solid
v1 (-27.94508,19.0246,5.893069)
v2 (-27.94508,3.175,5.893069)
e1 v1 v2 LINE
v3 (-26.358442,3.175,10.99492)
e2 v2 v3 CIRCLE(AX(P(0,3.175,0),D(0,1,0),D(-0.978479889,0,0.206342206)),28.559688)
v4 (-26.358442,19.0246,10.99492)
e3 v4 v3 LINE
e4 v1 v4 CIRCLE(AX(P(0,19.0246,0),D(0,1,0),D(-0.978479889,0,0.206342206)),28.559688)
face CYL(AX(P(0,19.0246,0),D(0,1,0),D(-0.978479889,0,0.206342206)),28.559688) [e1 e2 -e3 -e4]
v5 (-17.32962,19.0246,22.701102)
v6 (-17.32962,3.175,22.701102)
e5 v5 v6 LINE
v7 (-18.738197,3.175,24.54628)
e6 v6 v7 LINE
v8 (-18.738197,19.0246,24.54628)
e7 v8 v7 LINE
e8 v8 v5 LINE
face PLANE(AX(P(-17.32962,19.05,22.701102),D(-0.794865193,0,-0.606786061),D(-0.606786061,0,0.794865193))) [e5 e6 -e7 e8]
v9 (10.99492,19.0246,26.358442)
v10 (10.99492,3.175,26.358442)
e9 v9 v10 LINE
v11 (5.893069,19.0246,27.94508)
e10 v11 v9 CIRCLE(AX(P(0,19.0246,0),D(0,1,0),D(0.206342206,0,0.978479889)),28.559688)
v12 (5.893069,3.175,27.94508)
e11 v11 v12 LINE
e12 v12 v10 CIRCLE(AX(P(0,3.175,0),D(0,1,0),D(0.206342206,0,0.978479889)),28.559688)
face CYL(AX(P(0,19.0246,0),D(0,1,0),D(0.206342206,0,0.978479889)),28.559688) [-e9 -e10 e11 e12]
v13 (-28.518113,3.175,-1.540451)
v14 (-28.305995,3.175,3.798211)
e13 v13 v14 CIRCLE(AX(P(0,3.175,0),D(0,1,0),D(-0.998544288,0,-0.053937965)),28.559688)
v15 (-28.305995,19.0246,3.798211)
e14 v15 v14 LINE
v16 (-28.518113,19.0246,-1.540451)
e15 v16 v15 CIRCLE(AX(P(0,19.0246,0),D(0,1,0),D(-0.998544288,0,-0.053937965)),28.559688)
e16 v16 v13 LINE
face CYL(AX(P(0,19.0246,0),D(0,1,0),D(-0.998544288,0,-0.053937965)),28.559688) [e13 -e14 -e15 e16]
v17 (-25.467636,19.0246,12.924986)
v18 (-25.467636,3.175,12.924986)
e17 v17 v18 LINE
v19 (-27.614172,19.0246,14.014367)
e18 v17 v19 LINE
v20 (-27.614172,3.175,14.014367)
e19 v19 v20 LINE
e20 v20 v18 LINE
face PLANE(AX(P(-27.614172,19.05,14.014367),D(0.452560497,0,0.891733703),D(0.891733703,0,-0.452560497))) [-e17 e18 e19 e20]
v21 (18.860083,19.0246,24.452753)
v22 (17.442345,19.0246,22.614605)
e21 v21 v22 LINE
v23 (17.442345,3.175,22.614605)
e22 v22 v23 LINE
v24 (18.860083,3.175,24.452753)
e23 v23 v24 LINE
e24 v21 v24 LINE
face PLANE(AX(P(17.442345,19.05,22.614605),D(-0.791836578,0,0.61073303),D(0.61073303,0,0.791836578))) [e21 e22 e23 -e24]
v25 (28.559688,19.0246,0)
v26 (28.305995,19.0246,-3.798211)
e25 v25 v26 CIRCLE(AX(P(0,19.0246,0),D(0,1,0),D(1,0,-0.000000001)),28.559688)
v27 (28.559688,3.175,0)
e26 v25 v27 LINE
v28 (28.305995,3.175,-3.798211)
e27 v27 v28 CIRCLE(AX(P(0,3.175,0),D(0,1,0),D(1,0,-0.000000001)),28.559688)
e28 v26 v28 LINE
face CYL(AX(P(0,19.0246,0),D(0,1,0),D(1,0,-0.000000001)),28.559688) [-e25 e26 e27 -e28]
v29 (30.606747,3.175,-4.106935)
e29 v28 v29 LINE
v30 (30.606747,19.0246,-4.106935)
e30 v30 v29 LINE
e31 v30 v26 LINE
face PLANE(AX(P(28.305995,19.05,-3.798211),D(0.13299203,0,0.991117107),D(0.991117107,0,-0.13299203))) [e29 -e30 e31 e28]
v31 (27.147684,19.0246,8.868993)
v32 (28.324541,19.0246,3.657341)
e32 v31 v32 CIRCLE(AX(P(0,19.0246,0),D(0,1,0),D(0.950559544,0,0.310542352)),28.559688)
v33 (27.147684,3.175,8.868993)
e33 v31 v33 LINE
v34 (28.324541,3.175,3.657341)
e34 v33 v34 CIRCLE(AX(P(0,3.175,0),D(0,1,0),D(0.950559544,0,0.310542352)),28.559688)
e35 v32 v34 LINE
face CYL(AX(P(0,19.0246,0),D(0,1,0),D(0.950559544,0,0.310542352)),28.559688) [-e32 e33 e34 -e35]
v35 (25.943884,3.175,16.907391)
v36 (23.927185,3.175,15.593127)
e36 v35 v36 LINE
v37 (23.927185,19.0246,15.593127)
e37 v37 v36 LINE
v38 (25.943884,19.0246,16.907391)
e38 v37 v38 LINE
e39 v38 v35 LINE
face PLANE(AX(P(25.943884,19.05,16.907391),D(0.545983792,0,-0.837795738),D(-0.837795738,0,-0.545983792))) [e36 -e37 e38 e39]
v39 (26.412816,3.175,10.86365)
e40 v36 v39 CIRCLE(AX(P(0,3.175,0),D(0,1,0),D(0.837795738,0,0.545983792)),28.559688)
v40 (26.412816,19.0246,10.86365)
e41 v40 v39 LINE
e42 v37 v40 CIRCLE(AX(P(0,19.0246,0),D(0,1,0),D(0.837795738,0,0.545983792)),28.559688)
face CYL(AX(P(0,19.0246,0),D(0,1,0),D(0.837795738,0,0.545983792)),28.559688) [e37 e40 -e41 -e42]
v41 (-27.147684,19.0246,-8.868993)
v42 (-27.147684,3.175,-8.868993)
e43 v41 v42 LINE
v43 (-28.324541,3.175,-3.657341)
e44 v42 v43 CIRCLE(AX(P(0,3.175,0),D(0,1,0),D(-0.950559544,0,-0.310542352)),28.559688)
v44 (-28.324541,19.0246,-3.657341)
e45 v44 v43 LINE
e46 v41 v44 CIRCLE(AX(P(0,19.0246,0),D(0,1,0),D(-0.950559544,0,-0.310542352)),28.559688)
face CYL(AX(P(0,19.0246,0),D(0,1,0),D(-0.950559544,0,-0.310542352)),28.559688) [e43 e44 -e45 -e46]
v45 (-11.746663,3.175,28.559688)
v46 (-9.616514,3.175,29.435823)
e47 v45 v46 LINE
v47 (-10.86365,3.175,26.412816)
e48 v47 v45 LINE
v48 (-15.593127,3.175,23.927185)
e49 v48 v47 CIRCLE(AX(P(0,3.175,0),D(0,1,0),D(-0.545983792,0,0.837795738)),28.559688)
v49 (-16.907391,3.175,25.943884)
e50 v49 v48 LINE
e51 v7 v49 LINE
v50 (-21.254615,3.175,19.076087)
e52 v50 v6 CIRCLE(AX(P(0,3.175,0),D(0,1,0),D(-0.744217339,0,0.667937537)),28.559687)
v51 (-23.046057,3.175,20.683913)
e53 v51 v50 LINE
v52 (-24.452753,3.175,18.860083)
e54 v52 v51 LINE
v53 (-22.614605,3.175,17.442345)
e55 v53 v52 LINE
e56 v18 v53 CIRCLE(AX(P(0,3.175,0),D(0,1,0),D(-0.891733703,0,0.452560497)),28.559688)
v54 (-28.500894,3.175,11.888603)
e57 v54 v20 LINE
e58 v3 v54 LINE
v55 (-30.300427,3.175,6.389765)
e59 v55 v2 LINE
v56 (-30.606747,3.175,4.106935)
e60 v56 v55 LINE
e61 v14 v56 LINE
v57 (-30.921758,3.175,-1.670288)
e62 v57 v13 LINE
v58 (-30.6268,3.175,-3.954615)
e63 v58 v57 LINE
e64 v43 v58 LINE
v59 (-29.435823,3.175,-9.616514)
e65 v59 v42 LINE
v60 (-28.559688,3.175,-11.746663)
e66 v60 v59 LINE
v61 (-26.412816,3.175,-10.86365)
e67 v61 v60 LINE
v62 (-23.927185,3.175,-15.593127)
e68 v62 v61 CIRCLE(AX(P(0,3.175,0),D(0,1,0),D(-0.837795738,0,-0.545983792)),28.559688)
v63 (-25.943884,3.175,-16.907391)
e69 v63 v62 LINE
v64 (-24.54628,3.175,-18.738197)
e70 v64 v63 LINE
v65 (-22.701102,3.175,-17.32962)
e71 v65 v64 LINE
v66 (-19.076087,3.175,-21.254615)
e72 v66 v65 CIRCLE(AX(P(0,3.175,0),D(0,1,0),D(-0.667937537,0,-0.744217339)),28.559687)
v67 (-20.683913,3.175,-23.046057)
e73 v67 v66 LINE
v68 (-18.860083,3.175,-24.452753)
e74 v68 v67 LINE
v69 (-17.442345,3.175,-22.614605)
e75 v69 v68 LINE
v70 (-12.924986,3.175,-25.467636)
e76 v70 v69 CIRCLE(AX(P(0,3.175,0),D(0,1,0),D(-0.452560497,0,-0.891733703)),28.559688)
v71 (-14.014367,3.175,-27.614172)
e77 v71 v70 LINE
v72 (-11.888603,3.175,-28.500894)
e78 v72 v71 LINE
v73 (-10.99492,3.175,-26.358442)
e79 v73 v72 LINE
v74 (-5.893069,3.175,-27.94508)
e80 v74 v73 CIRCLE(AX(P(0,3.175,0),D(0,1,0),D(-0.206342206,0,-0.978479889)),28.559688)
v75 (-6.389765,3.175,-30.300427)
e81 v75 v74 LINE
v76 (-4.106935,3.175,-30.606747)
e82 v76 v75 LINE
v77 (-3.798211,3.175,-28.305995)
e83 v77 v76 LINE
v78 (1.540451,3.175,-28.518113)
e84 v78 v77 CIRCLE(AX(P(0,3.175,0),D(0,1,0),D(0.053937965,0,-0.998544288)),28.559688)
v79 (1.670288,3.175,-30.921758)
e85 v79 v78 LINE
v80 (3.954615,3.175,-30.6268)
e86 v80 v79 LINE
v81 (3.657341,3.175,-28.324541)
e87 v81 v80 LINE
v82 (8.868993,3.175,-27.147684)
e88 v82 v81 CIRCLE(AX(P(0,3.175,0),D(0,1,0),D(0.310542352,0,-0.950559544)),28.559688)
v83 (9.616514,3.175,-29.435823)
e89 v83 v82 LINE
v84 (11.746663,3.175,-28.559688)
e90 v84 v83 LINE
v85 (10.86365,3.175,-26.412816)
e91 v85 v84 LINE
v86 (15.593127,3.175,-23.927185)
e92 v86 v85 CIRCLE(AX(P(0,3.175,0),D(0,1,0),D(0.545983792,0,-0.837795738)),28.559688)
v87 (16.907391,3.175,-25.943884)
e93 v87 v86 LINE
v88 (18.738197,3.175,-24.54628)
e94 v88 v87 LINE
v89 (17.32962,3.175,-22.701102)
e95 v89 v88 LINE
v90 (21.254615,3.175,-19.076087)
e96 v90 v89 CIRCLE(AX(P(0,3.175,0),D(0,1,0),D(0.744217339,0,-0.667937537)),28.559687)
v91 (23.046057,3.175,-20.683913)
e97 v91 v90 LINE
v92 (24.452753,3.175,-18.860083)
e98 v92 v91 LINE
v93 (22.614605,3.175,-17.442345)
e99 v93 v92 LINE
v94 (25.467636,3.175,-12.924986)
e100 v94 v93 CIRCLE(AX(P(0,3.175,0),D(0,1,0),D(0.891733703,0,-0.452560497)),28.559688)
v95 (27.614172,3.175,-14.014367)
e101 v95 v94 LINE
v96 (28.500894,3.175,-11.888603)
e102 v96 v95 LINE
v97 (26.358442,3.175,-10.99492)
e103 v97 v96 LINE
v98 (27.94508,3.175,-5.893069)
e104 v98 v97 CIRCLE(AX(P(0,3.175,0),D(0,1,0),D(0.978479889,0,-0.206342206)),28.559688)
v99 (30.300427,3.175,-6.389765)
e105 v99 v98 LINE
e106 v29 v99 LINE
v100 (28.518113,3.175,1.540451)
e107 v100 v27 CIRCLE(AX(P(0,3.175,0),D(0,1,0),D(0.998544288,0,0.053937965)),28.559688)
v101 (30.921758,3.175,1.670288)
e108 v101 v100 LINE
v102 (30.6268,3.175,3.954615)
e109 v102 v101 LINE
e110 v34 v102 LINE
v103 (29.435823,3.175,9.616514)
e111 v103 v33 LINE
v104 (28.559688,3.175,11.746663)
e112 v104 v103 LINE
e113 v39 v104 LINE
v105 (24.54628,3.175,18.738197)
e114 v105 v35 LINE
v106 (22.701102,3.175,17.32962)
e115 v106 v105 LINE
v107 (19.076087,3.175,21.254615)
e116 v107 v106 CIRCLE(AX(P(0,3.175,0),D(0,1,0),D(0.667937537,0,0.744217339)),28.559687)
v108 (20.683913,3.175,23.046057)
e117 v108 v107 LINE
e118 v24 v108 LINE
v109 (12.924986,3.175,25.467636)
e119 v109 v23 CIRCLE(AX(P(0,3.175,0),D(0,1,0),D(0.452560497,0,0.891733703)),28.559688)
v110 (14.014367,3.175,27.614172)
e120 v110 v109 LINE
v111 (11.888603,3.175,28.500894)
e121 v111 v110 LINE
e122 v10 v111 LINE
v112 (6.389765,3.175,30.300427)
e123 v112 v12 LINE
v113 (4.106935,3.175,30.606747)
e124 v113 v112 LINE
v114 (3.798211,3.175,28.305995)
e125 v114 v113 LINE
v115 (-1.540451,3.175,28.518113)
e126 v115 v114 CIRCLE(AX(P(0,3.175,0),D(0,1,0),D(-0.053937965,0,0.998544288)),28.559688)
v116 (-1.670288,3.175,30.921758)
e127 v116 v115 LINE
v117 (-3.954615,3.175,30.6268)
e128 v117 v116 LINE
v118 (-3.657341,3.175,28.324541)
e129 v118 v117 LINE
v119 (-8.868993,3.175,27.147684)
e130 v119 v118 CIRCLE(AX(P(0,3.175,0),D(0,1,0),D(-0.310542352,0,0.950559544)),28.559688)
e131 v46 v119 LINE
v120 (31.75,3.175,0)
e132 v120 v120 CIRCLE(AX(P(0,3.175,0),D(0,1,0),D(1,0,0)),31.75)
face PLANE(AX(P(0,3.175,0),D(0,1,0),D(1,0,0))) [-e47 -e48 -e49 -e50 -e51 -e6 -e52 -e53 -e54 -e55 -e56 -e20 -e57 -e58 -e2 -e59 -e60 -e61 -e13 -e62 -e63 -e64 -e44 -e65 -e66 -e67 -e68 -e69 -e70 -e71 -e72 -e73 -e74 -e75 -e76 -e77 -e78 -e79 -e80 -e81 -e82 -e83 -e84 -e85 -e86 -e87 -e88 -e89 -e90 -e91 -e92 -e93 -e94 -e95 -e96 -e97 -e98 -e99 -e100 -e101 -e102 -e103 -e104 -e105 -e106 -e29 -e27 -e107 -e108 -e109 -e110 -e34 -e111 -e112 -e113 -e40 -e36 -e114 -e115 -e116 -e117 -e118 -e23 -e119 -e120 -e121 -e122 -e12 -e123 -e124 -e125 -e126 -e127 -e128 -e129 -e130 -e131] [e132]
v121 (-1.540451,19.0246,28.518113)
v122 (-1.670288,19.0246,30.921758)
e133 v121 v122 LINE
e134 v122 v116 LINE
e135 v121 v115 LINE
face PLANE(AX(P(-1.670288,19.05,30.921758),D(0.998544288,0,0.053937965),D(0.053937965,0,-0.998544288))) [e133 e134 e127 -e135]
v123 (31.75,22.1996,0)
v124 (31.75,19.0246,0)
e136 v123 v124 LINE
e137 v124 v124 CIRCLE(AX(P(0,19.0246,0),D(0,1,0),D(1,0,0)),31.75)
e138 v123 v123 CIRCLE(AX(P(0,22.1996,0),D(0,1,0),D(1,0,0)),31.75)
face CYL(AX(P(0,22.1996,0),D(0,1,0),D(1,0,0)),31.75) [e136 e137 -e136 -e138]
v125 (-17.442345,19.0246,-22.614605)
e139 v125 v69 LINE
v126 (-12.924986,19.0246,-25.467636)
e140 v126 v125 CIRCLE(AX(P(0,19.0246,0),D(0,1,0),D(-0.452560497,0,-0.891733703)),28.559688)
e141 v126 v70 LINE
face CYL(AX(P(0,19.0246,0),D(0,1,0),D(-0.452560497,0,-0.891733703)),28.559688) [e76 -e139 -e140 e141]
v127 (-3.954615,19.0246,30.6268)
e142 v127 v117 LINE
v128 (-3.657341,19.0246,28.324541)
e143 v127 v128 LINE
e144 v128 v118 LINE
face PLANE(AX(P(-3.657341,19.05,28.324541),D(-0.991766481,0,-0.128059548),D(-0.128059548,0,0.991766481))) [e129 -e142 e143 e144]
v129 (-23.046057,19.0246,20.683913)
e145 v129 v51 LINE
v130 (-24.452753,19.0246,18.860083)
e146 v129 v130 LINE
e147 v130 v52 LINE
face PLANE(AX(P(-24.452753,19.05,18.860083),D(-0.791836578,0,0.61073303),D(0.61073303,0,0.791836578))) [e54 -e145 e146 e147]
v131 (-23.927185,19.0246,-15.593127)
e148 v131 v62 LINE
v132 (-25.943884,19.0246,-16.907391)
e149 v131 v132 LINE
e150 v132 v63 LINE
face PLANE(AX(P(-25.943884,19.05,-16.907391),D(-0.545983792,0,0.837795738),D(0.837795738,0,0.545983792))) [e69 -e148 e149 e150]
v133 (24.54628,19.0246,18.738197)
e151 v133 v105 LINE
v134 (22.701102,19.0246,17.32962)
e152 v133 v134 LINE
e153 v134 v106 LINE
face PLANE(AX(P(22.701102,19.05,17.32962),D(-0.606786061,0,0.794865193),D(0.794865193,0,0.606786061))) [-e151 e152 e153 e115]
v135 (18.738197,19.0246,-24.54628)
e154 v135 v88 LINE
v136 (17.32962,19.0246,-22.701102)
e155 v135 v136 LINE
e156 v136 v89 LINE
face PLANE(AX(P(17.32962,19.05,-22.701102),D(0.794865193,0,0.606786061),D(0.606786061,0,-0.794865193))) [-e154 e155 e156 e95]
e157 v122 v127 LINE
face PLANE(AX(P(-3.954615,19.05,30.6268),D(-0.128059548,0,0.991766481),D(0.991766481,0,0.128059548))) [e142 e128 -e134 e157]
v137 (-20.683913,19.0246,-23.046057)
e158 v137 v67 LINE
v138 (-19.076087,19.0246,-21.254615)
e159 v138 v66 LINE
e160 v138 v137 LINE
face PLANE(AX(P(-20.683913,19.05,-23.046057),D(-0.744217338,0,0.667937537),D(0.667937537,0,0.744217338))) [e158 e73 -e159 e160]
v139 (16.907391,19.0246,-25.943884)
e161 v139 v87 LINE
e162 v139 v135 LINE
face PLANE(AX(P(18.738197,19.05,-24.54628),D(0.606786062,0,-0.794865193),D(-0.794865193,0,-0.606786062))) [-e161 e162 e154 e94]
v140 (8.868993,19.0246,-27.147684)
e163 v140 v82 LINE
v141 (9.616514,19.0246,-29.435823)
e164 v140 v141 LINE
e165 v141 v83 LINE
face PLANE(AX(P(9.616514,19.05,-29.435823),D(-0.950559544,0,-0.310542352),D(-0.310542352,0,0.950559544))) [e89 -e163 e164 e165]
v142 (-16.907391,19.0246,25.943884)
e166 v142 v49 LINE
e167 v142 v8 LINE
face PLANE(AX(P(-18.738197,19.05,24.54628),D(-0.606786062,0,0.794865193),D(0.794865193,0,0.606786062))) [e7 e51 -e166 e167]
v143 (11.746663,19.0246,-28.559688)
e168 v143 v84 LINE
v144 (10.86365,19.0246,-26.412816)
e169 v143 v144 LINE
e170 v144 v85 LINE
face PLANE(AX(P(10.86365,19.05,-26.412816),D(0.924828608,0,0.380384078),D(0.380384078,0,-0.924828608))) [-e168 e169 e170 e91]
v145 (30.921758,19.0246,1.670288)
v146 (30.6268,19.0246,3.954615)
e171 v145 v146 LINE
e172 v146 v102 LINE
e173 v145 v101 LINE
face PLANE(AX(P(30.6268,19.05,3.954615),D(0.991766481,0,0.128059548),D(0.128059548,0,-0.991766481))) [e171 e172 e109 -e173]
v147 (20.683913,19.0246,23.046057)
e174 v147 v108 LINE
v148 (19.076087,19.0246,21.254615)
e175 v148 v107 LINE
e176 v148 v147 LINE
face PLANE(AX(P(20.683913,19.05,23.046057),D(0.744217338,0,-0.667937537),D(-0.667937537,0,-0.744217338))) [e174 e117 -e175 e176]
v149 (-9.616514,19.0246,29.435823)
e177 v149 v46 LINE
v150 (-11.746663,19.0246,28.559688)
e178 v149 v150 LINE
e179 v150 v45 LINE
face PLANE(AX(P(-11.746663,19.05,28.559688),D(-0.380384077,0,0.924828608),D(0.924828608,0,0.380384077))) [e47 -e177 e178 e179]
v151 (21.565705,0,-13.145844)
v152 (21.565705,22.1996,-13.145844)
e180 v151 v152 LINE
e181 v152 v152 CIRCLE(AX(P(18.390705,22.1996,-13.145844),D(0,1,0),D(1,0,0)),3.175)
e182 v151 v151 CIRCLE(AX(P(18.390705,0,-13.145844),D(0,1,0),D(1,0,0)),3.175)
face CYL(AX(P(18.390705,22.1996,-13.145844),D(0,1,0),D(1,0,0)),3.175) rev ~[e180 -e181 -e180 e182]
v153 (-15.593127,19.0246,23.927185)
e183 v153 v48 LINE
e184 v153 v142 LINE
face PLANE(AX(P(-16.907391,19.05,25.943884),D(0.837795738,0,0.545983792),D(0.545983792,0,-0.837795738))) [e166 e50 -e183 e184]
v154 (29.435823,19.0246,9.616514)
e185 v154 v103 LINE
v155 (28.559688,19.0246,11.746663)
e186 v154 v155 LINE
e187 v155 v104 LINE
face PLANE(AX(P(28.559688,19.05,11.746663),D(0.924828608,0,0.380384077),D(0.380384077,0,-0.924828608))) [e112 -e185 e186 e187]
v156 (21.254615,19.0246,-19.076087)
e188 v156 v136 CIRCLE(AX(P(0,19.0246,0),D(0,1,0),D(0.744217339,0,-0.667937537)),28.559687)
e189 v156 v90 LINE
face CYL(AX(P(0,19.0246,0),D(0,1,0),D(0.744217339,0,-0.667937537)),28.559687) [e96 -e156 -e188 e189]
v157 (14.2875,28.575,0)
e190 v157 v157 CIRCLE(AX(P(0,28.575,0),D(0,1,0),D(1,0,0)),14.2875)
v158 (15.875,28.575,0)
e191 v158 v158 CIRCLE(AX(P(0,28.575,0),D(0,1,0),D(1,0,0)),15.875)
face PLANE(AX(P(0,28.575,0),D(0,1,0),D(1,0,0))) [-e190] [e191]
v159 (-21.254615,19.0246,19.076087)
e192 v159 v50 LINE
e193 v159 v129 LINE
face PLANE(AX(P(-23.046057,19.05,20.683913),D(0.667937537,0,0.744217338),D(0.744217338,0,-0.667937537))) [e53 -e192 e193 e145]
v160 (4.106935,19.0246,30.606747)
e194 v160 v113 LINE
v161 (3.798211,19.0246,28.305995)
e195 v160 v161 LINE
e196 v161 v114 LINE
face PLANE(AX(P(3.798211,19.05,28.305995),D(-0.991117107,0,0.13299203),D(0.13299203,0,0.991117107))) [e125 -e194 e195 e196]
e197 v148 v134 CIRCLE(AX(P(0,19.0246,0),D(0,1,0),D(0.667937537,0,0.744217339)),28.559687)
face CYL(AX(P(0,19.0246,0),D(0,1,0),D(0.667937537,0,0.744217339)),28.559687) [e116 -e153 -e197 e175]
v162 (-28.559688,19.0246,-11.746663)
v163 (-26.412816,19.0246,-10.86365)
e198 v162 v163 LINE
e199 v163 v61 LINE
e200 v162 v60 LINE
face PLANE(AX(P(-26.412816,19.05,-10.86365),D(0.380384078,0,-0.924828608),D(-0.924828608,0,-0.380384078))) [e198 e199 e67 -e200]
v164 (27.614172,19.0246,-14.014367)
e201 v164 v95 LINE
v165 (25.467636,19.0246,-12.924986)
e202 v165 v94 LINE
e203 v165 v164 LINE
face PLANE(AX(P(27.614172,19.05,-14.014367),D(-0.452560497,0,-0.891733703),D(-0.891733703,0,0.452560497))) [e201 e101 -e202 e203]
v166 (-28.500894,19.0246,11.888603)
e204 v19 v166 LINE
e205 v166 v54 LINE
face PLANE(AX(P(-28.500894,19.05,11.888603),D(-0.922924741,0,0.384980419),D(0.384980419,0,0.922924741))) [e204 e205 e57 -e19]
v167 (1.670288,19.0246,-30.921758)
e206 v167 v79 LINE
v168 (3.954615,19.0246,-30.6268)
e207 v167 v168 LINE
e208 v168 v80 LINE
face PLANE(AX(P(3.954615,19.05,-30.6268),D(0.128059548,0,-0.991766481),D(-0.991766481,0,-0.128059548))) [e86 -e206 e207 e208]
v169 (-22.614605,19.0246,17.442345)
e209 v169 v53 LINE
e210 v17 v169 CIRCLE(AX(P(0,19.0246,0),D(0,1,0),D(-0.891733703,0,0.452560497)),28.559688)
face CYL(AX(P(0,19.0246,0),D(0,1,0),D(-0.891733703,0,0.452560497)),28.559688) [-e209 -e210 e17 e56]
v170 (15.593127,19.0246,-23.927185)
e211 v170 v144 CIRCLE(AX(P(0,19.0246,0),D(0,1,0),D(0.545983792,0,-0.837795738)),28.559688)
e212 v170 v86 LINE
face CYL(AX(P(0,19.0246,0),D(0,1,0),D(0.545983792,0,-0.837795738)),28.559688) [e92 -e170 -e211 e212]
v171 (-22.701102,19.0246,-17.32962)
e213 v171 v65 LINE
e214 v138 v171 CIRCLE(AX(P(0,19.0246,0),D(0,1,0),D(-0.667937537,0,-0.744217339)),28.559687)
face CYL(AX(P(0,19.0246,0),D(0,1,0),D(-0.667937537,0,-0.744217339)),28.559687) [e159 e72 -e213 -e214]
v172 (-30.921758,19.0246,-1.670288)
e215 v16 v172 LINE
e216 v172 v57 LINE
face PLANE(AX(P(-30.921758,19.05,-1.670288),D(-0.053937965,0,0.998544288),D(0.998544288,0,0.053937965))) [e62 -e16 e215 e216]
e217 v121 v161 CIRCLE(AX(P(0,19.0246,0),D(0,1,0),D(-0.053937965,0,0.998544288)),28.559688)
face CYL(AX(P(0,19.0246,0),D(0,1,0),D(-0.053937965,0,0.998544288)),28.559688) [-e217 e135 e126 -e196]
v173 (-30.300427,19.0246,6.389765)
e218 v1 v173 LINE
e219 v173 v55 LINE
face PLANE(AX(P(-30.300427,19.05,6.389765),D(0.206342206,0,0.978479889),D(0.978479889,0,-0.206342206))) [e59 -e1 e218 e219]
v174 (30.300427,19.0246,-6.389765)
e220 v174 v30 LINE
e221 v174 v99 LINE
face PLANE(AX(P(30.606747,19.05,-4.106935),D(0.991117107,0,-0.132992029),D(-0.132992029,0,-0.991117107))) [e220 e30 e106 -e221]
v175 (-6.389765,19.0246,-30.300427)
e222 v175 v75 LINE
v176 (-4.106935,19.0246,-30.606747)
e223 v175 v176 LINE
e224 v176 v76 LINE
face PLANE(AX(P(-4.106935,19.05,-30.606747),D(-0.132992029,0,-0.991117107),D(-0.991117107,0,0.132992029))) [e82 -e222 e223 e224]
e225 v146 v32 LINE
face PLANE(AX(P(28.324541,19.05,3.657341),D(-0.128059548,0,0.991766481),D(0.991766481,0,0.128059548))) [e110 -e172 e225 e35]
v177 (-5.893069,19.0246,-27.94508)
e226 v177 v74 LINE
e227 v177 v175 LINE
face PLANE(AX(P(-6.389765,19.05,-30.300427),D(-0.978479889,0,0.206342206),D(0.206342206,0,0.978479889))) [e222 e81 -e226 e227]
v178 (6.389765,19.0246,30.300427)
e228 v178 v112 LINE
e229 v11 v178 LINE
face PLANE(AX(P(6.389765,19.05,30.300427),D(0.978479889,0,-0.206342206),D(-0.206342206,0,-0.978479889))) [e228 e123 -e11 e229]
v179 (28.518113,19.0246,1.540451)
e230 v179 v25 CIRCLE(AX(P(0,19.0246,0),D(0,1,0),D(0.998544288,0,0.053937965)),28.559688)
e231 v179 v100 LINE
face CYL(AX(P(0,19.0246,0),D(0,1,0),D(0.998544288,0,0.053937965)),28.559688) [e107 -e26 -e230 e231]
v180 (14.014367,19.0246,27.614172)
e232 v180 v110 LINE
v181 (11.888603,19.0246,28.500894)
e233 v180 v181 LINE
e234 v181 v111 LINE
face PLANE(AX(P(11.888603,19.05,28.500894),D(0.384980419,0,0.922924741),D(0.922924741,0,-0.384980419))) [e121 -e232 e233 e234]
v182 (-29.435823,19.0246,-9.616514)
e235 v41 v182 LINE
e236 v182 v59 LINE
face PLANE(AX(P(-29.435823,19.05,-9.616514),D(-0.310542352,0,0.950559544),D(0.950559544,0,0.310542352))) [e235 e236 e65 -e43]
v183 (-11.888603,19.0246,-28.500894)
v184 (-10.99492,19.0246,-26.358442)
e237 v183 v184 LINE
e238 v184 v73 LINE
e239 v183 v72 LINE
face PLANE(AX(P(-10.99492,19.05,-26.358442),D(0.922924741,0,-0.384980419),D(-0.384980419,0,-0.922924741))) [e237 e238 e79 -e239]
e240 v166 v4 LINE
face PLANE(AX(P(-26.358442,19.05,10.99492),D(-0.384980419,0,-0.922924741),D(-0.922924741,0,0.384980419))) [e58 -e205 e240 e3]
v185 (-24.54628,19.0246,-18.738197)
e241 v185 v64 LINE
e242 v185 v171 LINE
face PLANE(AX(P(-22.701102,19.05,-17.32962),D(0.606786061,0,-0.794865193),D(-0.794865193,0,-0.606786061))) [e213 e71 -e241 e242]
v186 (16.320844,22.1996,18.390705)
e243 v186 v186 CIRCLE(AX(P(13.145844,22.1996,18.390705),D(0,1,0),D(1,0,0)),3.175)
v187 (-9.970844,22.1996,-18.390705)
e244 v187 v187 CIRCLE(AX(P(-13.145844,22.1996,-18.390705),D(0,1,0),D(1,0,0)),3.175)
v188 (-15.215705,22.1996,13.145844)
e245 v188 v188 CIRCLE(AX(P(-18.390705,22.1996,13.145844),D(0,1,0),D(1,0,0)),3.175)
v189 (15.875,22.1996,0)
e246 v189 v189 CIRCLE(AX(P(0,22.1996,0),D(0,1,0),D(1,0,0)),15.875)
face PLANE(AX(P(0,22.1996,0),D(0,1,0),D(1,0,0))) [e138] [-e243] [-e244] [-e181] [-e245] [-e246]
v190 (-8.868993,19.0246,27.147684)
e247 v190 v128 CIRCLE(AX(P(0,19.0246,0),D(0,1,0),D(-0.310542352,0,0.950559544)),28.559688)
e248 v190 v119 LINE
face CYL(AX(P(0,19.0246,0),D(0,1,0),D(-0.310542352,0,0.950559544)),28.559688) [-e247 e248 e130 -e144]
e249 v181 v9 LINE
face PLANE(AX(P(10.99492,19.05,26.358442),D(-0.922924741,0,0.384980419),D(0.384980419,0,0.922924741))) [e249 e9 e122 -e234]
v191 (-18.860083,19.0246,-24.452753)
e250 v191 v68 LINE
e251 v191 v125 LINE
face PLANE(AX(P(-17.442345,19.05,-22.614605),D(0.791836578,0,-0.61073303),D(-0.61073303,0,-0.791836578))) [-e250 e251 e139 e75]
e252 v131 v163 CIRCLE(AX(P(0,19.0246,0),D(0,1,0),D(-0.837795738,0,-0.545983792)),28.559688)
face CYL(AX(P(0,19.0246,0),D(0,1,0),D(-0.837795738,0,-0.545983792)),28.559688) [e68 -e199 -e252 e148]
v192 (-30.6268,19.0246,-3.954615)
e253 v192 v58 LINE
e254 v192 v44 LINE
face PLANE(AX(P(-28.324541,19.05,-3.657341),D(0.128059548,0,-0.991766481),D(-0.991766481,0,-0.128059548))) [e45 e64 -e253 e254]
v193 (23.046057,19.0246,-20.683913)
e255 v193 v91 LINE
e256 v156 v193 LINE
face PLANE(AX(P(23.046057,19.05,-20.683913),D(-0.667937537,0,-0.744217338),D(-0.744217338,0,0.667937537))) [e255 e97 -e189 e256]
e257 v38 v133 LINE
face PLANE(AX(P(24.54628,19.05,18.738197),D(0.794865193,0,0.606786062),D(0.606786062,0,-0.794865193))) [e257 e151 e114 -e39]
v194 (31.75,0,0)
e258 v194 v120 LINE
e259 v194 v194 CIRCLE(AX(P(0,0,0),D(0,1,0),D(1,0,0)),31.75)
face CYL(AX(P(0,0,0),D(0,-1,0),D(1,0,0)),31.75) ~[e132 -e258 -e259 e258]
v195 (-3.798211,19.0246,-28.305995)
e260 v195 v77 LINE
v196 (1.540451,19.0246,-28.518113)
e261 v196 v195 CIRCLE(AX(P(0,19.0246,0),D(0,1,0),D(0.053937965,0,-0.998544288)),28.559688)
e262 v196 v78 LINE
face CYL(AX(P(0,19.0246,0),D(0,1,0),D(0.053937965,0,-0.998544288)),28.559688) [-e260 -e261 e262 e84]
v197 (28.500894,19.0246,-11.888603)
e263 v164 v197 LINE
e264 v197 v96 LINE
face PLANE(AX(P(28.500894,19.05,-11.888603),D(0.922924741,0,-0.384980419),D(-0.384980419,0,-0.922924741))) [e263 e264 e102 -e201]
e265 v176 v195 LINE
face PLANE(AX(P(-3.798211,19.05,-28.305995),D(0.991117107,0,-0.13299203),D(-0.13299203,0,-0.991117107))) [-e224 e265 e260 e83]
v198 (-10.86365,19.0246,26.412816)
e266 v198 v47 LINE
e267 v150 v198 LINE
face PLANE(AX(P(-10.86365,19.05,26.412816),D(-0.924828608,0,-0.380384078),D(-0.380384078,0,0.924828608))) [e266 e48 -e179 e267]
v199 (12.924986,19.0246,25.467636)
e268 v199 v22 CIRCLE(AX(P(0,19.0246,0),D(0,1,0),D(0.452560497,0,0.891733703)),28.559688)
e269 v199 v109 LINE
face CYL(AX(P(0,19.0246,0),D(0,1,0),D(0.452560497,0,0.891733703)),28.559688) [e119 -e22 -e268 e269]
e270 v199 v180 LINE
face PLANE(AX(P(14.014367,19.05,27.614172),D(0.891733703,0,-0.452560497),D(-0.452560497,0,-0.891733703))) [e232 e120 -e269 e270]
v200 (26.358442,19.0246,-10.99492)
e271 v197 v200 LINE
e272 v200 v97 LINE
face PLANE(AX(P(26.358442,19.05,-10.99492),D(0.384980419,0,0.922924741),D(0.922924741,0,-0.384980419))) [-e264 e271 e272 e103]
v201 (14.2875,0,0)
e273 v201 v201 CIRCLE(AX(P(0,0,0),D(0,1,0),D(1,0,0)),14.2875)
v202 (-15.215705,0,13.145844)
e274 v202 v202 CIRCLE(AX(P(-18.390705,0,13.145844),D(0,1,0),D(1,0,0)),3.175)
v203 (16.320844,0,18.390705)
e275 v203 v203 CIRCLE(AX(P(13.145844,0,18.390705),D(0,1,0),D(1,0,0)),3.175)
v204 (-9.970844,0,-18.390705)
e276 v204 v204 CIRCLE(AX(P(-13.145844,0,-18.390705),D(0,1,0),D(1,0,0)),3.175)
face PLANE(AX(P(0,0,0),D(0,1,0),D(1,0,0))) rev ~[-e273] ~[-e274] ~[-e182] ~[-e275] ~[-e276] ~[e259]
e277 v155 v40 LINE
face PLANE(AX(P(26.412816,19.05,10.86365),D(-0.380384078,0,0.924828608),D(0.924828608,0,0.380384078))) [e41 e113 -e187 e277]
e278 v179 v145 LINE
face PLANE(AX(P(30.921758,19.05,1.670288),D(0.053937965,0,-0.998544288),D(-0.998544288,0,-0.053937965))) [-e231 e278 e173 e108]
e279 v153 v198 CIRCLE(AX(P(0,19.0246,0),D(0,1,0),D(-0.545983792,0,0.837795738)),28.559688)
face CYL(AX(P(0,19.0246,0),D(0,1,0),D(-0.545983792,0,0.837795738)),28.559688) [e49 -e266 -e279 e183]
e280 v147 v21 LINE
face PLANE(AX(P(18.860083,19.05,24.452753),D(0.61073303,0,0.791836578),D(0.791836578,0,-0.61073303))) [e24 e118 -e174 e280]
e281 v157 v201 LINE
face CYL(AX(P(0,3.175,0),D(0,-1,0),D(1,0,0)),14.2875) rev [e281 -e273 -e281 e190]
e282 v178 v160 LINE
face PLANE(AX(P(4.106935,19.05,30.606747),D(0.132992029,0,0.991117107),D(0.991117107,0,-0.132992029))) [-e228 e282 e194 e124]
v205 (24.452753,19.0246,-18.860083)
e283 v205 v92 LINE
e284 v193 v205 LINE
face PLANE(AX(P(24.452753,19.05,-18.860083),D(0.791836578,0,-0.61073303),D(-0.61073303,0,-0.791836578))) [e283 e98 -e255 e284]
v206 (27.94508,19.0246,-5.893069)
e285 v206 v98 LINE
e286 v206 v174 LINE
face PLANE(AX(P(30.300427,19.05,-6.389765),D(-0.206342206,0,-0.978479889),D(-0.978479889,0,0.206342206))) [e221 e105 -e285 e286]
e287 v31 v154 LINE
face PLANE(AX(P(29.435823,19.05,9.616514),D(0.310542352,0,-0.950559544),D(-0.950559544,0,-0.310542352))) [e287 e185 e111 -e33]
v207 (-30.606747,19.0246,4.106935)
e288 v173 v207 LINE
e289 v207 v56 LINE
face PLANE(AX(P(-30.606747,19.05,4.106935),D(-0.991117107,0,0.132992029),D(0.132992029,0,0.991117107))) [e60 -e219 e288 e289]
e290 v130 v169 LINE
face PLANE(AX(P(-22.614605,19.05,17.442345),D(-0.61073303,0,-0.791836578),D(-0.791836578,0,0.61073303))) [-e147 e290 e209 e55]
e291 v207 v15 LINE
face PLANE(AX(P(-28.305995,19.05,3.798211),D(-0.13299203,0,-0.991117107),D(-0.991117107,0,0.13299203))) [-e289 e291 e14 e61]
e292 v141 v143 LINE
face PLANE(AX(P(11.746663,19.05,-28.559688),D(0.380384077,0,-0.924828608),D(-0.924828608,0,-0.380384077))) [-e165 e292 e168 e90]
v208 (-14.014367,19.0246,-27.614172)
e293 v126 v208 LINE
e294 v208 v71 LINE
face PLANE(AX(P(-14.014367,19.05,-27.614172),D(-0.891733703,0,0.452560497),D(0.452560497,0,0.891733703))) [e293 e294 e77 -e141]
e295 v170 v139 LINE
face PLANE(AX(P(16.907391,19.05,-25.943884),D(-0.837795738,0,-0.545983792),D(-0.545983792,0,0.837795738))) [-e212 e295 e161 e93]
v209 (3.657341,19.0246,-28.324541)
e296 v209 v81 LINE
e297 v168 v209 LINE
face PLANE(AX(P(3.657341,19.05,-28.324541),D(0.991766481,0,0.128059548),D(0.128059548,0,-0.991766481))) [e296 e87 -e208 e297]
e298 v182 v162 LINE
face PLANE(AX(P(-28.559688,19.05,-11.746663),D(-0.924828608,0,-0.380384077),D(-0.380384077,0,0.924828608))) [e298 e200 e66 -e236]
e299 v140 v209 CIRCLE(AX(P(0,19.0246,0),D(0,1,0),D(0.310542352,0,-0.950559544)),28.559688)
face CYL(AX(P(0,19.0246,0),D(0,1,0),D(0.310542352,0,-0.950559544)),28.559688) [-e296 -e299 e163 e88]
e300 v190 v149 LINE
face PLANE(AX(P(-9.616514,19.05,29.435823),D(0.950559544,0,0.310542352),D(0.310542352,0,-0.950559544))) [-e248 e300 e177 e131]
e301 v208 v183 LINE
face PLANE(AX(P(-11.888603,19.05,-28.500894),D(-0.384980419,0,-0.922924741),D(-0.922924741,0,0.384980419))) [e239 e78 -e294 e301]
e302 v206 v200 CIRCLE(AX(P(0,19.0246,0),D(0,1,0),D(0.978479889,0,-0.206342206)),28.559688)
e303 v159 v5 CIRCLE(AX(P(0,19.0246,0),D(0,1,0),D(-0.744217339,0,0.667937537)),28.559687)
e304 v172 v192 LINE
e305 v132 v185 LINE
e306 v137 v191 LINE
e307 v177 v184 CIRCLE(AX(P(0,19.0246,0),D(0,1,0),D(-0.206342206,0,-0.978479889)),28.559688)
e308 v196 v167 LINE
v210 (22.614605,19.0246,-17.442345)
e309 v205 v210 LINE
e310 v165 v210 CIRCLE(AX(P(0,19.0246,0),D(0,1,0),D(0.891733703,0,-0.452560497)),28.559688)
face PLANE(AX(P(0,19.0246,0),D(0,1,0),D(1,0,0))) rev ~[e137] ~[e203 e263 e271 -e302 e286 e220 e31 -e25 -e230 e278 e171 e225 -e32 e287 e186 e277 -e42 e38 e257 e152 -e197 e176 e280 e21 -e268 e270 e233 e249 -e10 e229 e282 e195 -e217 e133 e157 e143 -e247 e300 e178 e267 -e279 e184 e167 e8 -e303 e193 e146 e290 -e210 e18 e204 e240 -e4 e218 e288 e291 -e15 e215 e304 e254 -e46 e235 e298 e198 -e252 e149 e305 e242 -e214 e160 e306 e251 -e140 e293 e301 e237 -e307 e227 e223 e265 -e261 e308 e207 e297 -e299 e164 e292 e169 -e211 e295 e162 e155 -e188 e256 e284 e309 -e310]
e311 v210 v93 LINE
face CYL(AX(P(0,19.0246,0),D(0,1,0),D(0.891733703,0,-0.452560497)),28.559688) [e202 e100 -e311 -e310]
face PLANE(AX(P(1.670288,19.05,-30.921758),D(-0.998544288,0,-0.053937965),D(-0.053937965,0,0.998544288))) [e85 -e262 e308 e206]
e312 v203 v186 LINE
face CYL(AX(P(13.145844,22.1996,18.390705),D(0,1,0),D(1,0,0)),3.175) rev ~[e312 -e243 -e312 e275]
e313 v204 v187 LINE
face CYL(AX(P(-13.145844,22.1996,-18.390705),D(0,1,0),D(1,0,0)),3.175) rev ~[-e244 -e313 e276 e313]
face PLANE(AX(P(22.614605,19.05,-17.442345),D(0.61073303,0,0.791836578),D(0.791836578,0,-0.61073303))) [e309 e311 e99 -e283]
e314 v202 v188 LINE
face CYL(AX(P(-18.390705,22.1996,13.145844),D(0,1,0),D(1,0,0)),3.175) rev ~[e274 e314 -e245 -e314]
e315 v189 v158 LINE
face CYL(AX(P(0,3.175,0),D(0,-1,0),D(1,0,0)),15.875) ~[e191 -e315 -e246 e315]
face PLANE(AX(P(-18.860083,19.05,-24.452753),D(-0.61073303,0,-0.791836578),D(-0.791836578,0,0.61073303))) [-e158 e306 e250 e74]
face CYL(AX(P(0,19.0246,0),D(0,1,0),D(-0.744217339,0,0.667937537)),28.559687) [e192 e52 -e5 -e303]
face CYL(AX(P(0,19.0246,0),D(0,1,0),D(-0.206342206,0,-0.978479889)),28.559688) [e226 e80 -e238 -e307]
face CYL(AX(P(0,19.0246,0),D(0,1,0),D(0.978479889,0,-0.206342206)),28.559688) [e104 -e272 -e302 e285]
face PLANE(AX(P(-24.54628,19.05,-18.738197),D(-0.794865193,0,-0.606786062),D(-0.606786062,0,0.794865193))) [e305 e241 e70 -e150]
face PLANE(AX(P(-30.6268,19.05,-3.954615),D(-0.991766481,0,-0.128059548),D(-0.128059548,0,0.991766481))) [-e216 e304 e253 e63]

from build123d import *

# Parameters (mm, degrees)
SKETCH1_R           = 31.75
SKETCH1_R_2         = 14.2875
BOSS_EXTRUDE1_DEPTH = 3.175
SKETCH2_R           = 15.875
SKETCH2_R_2         = 14.2875
BOSS_EXTRUDE2_DEPTH = 25.4
SKETCH3_R           = 3.175
CUT_EXTRUDE1_DEPTH  = 25.4
BOSS_EXTRUDE3_START = 15.8496
SKETCH4_R           = 3.175
SKETCH4_R_2         = 15.875
BOSS_EXTRUDE3_DEPTH = 15.8496
BOSS_EXTRUDE4_START = 15.875
BOSS_EXTRUDE4_DEPTH = 15.875
BOSS_EXTRUDE5_START = 3.175
SKETCH5_R           = 31.75
SKETCH5_R_2         = 15.875
SKETCH5_R_3         = 3.175
BOSS_EXTRUDE5_DEPTH = 3.175


with BuildPart() as part:
    # Sketch1 → Boss-Extrude1 (new body)
    with BuildSketch(Plane(origin=(0, 0, 0), x_dir=(1, 0, 0), z_dir=(0, 1, 0))):
        Circle(SKETCH1_R)
        Circle(SKETCH1_R_2, mode=Mode.SUBTRACT)
    extrude(amount=BOSS_EXTRUDE1_DEPTH)

    # Sketch2 → Boss-Extrude2 (add)
    with BuildSketch(Plane(origin=(0, 3.175, 0), x_dir=(1, 0, 0), z_dir=(0, 1, 0))):
        Circle(SKETCH2_R)
        Circle(SKETCH2_R_2, mode=Mode.SUBTRACT)
    extrude(amount=BOSS_EXTRUDE2_DEPTH)

    # Sketch3 → Cut-Extrude1 (cut)
    with BuildSketch(Plane(origin=(0, 3.175, 0), x_dir=(1, 0, 0), z_dir=(0, 1, 0))):
        with Locations((-18.390705049, -13.145843594)):
            Circle(SKETCH3_R)
        with Locations((-13.145843594, 18.390705049)):
            Circle(SKETCH3_R)
        with Locations((18.390705049, 13.145843594)):
            Circle(SKETCH3_R)
        with Locations((13.145843594, -18.390705049)):
            Circle(SKETCH3_R)
    extrude(amount=-CUT_EXTRUDE1_DEPTH, mode=Mode.SUBTRACT)

    # Sketch4 → Boss-Extrude3 (add)
    with BuildSketch(Plane(origin=(0, 3.175, 0), x_dir=(1, 0, 0), z_dir=(0, 1, 0)).offset(BOSS_EXTRUDE3_START)):
        with BuildLine():
            ThreePointArc((-15.593126517, -23.927184529), (-13.286641881, -25.280840603), (-10.863650415, -26.412816089))
            ThreePointArc((-10.863650415, -26.412816089), (-9.873160958, -26.798814279), (-8.868992564, -27.147683603))
            ThreePointArc((-8.868992564, -27.147683603), (-6.290747513, -27.858252813), (-3.657340665, -28.324540832))
            ThreePointArc((-3.657340665, -28.324540832), (-2.600697634, -28.441028918), (-1.540451424, -28.518112902))
            ThreePointArc((-1.540451424, -28.518112902), (1.133850902, -28.537171132), (3.798210807, -28.305994926))
            ThreePointArc((3.798210807, -28.305994926), (4.848998935, -28.145034436), (5.893068935, -27.945079936))
            ThreePointArc((5.893068935, -27.945079936), (8.481179251, -27.271328398), (10.99492049, -26.358442244))
            ThreePointArc((10.99492049, -26.358442244), (11.96824424, -25.93100237), (12.924986385, -25.467635953))
            ThreePointArc((12.924986385, -25.467635953), (15.250529251, -24.146989701), (17.442344511, -22.614605282))
            ThreePointArc((17.442344511, -22.614605282), (18.271873478, -21.949815345), (19.076087372, -21.254614667))
            ThreePointArc((19.076087372, -21.254614667), (20.980580885, -19.377073562), (22.701101578, -17.329620342))
            ThreePointArc((22.701101578, -17.329620342), (23.330304735, -16.472784678), (23.927184529, -15.593126517))
            ThreePointArc((23.927184529, -15.593126517), (25.280840603, -13.286641881), (26.412816089, -10.863650415))
            ThreePointArc((26.412816089, -10.863650415), (26.798814279, -9.873160958), (27.147683603, -8.868992564))
            ThreePointArc((27.147683603, -8.868992564), (27.858252813, -6.290747513), (28.324540832, -3.657340665))
            ThreePointArc((28.324540832, -3.657340665), (28.441028918, -2.600697634), (28.518112902, -1.540451424))
            ThreePointArc((28.518112902, -1.540451424), (28.549292011, -0.770506171), (28.55968757, 0))
            ThreePointArc((28.55968757, 0), (28.496193829, 1.903336892), (28.305994926, 3.798210807))
            ThreePointArc((28.305994926, 3.798210807), (28.145034436, 4.848998935), (27.945079936, 5.893068935))
            ThreePointArc((27.945079936, 5.893068935), (27.271328398, 8.481179251), (26.358442244, 10.99492049))
            ThreePointArc((26.358442244, 10.99492049), (25.93100237, 11.96824424), (25.467635953, 12.924986385))
            ThreePointArc((25.467635953, 12.924986385), (24.146989701, 15.250529251), (22.614605282, 17.442344511))
            ThreePointArc((22.614605282, 17.442344511), (21.949815345, 18.271873478), (21.254614667, 19.076087372))
            ThreePointArc((21.254614667, 19.076087372), (19.377073562, 20.980580885), (17.329620342, 22.701101578))
            ThreePointArc((17.329620342, 22.701101578), (16.472784678, 23.330304735), (15.593126517, 23.927184529))
            ThreePointArc((15.593126517, 23.927184529), (13.286641881, 25.280840603), (10.863650415, 26.412816089))
            ThreePointArc((10.863650415, 26.412816089), (9.873160958, 26.798814279), (8.868992564, 27.147683603))
            ThreePointArc((8.868992564, 27.147683603), (6.290747513, 27.858252813), (3.657340665, 28.324540832))
            ThreePointArc((3.657340665, 28.324540832), (2.600697634, 28.441028918), (1.540451424, 28.518112902))
            ThreePointArc((1.540451424, 28.518112902), (-1.133850902, 28.537171132), (-3.798210807, 28.305994926))
            ThreePointArc((-3.798210807, 28.305994926), (-4.848998935, 28.145034436), (-5.893068935, 27.945079936))
            ThreePointArc((-5.893068935, 27.945079936), (-8.481179251, 27.271328398), (-10.99492049, 26.358442244))
            ThreePointArc((-10.99492049, 26.358442244), (-11.96824424, 25.93100237), (-12.924986385, 25.467635953))
            ThreePointArc((-12.924986385, 25.467635953), (-15.250529251, 24.146989701), (-17.442344511, 22.614605282))
            ThreePointArc((-17.442344511, 22.614605282), (-18.271873478, 21.949815345), (-19.076087372, 21.254614667))
            ThreePointArc((-19.076087372, 21.254614667), (-20.980580885, 19.377073562), (-22.701101578, 17.329620342))
            ThreePointArc((-22.701101578, 17.329620342), (-23.330304735, 16.472784678), (-23.927184529, 15.593126517))
            ThreePointArc((-23.927184529, 15.593126517), (-25.280840603, 13.286641881), (-26.412816089, 10.863650415))
            ThreePointArc((-26.412816089, 10.863650415), (-26.798814279, 9.873160958), (-27.147683603, 8.868992564))
            ThreePointArc((-27.147683603, 8.868992564), (-27.858252813, 6.290747513), (-28.324540832, 3.657340665))
            ThreePointArc((-28.324540832, 3.657340665), (-28.441028918, 2.600697634), (-28.518112902, 1.540451424))
            ThreePointArc((-28.518112902, 1.540451424), (-28.537171132, -1.133850902), (-28.305994926, -3.798210807))
            ThreePointArc((-28.305994926, -3.798210807), (-28.145034436, -4.848998935), (-27.945079936, -5.893068935))
            ThreePointArc((-27.945079936, -5.893068935), (-27.271328398, -8.481179251), (-26.358442244, -10.99492049))
            ThreePointArc((-26.358442244, -10.99492049), (-25.93100237, -11.96824424), (-25.467635953, -12.924986385))
            ThreePointArc((-25.467635953, -12.924986385), (-24.146989701, -15.250529251), (-22.614605282, -17.442344511))
            ThreePointArc((-22.614605282, -17.442344511), (-21.949815345, -18.271873478), (-21.254614667, -19.076087372))
            ThreePointArc((-21.254614667, -19.076087372), (-19.377073562, -20.980580885), (-17.329620342, -22.701101578))
            ThreePointArc((-17.329620342, -22.701101578), (-16.472784678, -23.330304735), (-15.593126517, -23.927184529))
        make_face()
        with Locations((-18.390705049, -13.145843594)):
            Circle(SKETCH4_R, mode=Mode.SUBTRACT)
        with Locations((13.145843594, -18.390705049)):
            Circle(SKETCH4_R, mode=Mode.SUBTRACT)
        Circle(SKETCH4_R_2, mode=Mode.SUBTRACT)
        with Locations((-13.145843594, 18.390705049)):
            Circle(SKETCH4_R, mode=Mode.SUBTRACT)
        with Locations((18.390705049, 13.145843594)):
            Circle(SKETCH4_R, mode=Mode.SUBTRACT)
    extrude(amount=-BOSS_EXTRUDE3_DEPTH)

    # Sketch4<9> → Boss-Extrude4 (add)
    with BuildSketch(Plane(origin=(0, 3.175, 0), x_dir=(1, 0, 0), z_dir=(0, 1, 0)).offset(BOSS_EXTRUDE4_START)):
        with BuildLine():
            ThreePointArc((-8.868992564, -27.147683603), (-9.873160958, -26.798814279), (-10.863650415, -26.412816089))
            Line((-10.863650415, -26.412816089), (-11.746663464, -28.55968757))
            Line((-11.746663464, -28.55968757), (-9.616514462, -29.435822625))
            Line((-9.616514462, -29.435822625), (-8.868992564, -27.147683603))
        make_face()
        with BuildLine():
            Line((-16.907391181, -25.943884202), (-15.593126517, -23.927184529))
            ThreePointArc((-15.593126517, -23.927184529), (-16.472784678, -23.330304735), (-17.329620342, -22.701101578))
            Line((-17.329620342, -22.701101578), (-18.738196677, -24.546279594))
            Line((-18.738196677, -24.546279594), (-16.907391181, -25.943884202))
        make_face()
        with BuildLine():
            ThreePointArc((-1.540451424, -28.518112902), (-2.600697634, -28.441028918), (-3.657340665, -28.324540832))
            Line((-3.657340665, -28.324540832), (-3.954614547, -30.626800035))
            Line((-3.954614547, -30.626800035), (-1.670288174, -30.921758382))
            Line((-1.670288174, -30.921758382), (-1.540451424, -28.518112902))
        make_face()
        with BuildLine():
            Line((-23.046057132, -20.683912944), (-21.254614667, -19.076087372))
            ThreePointArc((-21.254614667, -19.076087372), (-21.949815345, -18.271873478), (-22.614605282, -17.442344511))
            Line((-22.614605282, -17.442344511), (-24.452752754, -18.860083228))
            Line((-24.452752754, -18.860083228), (-23.046057132, -20.683912944))
        make_face()
        with BuildLine():
            ThreePointArc((5.893068935, -27.945079936), (4.848998935, -28.145034436), (3.798210807, -28.305994926))
            Line((3.798210807, -28.305994926), (4.106934816, -30.606746691))
            Line((4.106934816, -30.606746691), (6.389765493, -30.300427406))
            Line((6.389765493, -30.300427406), (5.893068935, -27.945079936))
        make_face()
        with BuildLine():
            Line((-27.614172375, -14.014367201), (-25.467635953, -12.924986385))
            ThreePointArc((-25.467635953, -12.924986385), (-25.93100237, -11.96824424), (-26.358442244, -10.99492049))
            Line((-26.358442244, -10.99492049), (-28.500894141, -11.888603358))
            Line((-28.500894141, -11.888603358), (-27.614172375, -14.014367201))
        make_face()
        with BuildLine():
            ThreePointArc((12.924986385, -25.467635953), (11.96824424, -25.93100237), (10.99492049, -26.358442244))
            Line((10.99492049, -26.358442244), (11.888603358, -28.500894141))
            Line((11.888603358, -28.500894141), (14.014367201, -27.614172375))
            Line((14.014367201, -27.614172375), (12.924986385, -25.467635953))
        make_face()
        with BuildLine():
            Line((-30.300427406, -6.389765493), (-27.945079936, -5.893068935))
            ThreePointArc((-27.945079936, -5.893068935), (-28.145034436, -4.848998935), (-28.305994926, -3.798210807))
            Line((-28.305994926, -3.798210807), (-30.606746691, -4.106934816))
            Line((-30.606746691, -4.106934816), (-30.300427406, -6.389765493))
        make_face()
        with BuildLine():
            ThreePointArc((19.076087372, -21.254614667), (18.271873478, -21.949815345), (17.442344511, -22.614605282))
            Line((17.442344511, -22.614605282), (18.860083228, -24.452752754))
            Line((18.860083228, -24.452752754), (20.683912944, -23.046057132))
            Line((20.683912944, -23.046057132), (19.076087372, -21.254614667))
        make_face()
        with BuildLine():
            Line((-30.921758382, 1.670288174), (-28.518112902, 1.540451424))
            ThreePointArc((-28.518112902, 1.540451424), (-28.441028918, 2.600697634), (-28.324540832, 3.657340665))
            Line((-28.324540832, 3.657340665), (-30.626800035, 3.954614547))
            Line((-30.626800035, 3.954614547), (-30.921758382, 1.670288174))
        make_face()
        with BuildLine():
            ThreePointArc((23.927184529, -15.593126517), (23.330304735, -16.472784678), (22.701101578, -17.329620342))
            Line((22.701101578, -17.329620342), (24.546279594, -18.738196677))
            Line((24.546279594, -18.738196677), (25.943884202, -16.907391181))
            Line((25.943884202, -16.907391181), (23.927184529, -15.593126517))
        make_face()
        with BuildLine():
            Line((-29.435822625, 9.616514462), (-27.147683603, 8.868992564))
            ThreePointArc((-27.147683603, 8.868992564), (-26.798814279, 9.873160958), (-26.412816089, 10.863650415))
            Line((-26.412816089, 10.863650415), (-28.55968757, 11.746663464))
            Line((-28.55968757, 11.746663464), (-29.435822625, 9.616514462))
        make_face()
        with BuildLine():
            ThreePointArc((27.147683603, -8.868992564), (26.798814279, -9.873160958), (26.412816089, -10.863650415))
            Line((26.412816089, -10.863650415), (28.55968757, -11.746663464))
            Line((28.55968757, -11.746663464), (29.435822625, -9.616514462))
            Line((29.435822625, -9.616514462), (27.147683603, -8.868992564))
        make_face()
        with BuildLine():
            Line((-25.943884202, 16.907391181), (-23.927184529, 15.593126517))
            ThreePointArc((-23.927184529, 15.593126517), (-23.330304735, 16.472784678), (-22.701101578, 17.329620342))
            Line((-22.701101578, 17.329620342), (-24.546279594, 18.738196677))
            Line((-24.546279594, 18.738196677), (-25.943884202, 16.907391181))
        make_face()
        with BuildLine():
            ThreePointArc((28.518112902, -1.540451424), (28.441028918, -2.600697634), (28.324540832, -3.657340665))
            Line((28.324540832, -3.657340665), (30.626800035, -3.954614547))
            Line((30.626800035, -3.954614547), (30.921758382, -1.670288174))
            Line((30.921758382, -1.670288174), (28.518112902, -1.540451424))
        make_face()
        with BuildLine():
            Line((-20.683912944, 23.046057132), (-19.076087372, 21.254614667))
            ThreePointArc((-19.076087372, 21.254614667), (-18.271873478, 21.949815345), (-17.442344511, 22.614605282))
            Line((-17.442344511, 22.614605282), (-18.860083228, 24.452752754))
            Line((-18.860083228, 24.452752754), (-20.683912944, 23.046057132))
        make_face()
        with BuildLine():
            Line((-14.014367201, 27.614172375), (-12.924986385, 25.467635953))
            ThreePointArc((-12.924986385, 25.467635953), (-11.96824424, 25.93100237), (-10.99492049, 26.358442244))
            Line((-10.99492049, 26.358442244), (-11.888603358, 28.500894141))
            Line((-11.888603358, 28.500894141), (-14.014367201, 27.614172375))
        make_face()
        with BuildLine():
            ThreePointArc((27.945079936, 5.893068935), (28.145034436, 4.848998935), (28.305994926, 3.798210807))
            Line((28.305994926, 3.798210807), (30.606746691, 4.106934816))
            Line((30.606746691, 4.106934816), (30.300427406, 6.389765493))
            Line((30.300427406, 6.389765493), (27.945079936, 5.893068935))
        make_face()
        with BuildLine():
            Line((-6.389765493, 30.300427406), (-5.893068935, 27.945079936))
            ThreePointArc((-5.893068935, 27.945079936), (-4.848998935, 28.145034436), (-3.798210807, 28.305994926))
            Line((-3.798210807, 28.305994926), (-4.106934816, 30.606746691))
            Line((-4.106934816, 30.606746691), (-6.389765493, 30.300427406))
        make_face()
        with BuildLine():
            ThreePointArc((25.467635953, 12.924986385), (25.93100237, 11.96824424), (26.358442244, 10.99492049))
            Line((26.358442244, 10.99492049), (28.500894141, 11.888603358))
            Line((28.500894141, 11.888603358), (27.614172375, 14.014367201))
            Line((27.614172375, 14.014367201), (25.467635953, 12.924986385))
        make_face()
        with BuildLine():
            Line((1.670288174, 30.921758382), (1.540451424, 28.518112902))
            ThreePointArc((1.540451424, 28.518112902), (2.600697634, 28.441028918), (3.657340665, 28.324540832))
            Line((3.657340665, 28.324540832), (3.954614547, 30.626800035))
            Line((3.954614547, 30.626800035), (1.670288174, 30.921758382))
        make_face()
        with BuildLine():
            ThreePointArc((21.254614667, 19.076087372), (21.949815345, 18.271873478), (22.614605282, 17.442344511))
            Line((22.614605282, 17.442344511), (24.452752754, 18.860083228))
            Line((24.452752754, 18.860083228), (23.046057132, 20.683912944))
            Line((23.046057132, 20.683912944), (21.254614667, 19.076087372))
        make_face()
        with BuildLine():
            Line((9.616514462, 29.435822625), (8.868992564, 27.147683603))
            ThreePointArc((8.868992564, 27.147683603), (9.873160958, 26.798814279), (10.863650415, 26.412816089))
            Line((10.863650415, 26.412816089), (11.746663464, 28.55968757))
            Line((11.746663464, 28.55968757), (9.616514462, 29.435822625))
        make_face()
        with BuildLine():
            ThreePointArc((15.593126517, 23.927184529), (16.472784678, 23.330304735), (17.329620342, 22.701101578))
            Line((17.329620342, 22.701101578), (18.738196677, 24.546279594))
            Line((18.738196677, 24.546279594), (16.907391181, 25.943884202))
            Line((16.907391181, 25.943884202), (15.593126517, 23.927184529))
        make_face()
    extrude(amount=-BOSS_EXTRUDE4_DEPTH)

    # Sketch5 → Boss-Extrude5 (add)
    with BuildSketch(Plane(origin=(0, 19.0246, 0), x_dir=(1, 0, 0), z_dir=(0, 1, 0)).offset(BOSS_EXTRUDE5_START)):
        Circle(SKETCH5_R)
        Circle(SKETCH5_R_2, mode=Mode.SUBTRACT)
        with Locations((13.145843594, -18.390705049)):
            Circle(SKETCH5_R_3, mode=Mode.SUBTRACT)
        with Locations((-18.390705049, -13.145843594)):
            Circle(SKETCH5_R_3, mode=Mode.SUBTRACT)
        with Locations((-13.145843594, 18.390705049)):
            Circle(SKETCH5_R_3, mode=Mode.SUBTRACT)
        with Locations((18.390705049, 13.145843594)):
            Circle(SKETCH5_R_3, mode=Mode.SUBTRACT)
    extrude(amount=-BOSS_EXTRUDE5_DEPTH)


solid = part.part
